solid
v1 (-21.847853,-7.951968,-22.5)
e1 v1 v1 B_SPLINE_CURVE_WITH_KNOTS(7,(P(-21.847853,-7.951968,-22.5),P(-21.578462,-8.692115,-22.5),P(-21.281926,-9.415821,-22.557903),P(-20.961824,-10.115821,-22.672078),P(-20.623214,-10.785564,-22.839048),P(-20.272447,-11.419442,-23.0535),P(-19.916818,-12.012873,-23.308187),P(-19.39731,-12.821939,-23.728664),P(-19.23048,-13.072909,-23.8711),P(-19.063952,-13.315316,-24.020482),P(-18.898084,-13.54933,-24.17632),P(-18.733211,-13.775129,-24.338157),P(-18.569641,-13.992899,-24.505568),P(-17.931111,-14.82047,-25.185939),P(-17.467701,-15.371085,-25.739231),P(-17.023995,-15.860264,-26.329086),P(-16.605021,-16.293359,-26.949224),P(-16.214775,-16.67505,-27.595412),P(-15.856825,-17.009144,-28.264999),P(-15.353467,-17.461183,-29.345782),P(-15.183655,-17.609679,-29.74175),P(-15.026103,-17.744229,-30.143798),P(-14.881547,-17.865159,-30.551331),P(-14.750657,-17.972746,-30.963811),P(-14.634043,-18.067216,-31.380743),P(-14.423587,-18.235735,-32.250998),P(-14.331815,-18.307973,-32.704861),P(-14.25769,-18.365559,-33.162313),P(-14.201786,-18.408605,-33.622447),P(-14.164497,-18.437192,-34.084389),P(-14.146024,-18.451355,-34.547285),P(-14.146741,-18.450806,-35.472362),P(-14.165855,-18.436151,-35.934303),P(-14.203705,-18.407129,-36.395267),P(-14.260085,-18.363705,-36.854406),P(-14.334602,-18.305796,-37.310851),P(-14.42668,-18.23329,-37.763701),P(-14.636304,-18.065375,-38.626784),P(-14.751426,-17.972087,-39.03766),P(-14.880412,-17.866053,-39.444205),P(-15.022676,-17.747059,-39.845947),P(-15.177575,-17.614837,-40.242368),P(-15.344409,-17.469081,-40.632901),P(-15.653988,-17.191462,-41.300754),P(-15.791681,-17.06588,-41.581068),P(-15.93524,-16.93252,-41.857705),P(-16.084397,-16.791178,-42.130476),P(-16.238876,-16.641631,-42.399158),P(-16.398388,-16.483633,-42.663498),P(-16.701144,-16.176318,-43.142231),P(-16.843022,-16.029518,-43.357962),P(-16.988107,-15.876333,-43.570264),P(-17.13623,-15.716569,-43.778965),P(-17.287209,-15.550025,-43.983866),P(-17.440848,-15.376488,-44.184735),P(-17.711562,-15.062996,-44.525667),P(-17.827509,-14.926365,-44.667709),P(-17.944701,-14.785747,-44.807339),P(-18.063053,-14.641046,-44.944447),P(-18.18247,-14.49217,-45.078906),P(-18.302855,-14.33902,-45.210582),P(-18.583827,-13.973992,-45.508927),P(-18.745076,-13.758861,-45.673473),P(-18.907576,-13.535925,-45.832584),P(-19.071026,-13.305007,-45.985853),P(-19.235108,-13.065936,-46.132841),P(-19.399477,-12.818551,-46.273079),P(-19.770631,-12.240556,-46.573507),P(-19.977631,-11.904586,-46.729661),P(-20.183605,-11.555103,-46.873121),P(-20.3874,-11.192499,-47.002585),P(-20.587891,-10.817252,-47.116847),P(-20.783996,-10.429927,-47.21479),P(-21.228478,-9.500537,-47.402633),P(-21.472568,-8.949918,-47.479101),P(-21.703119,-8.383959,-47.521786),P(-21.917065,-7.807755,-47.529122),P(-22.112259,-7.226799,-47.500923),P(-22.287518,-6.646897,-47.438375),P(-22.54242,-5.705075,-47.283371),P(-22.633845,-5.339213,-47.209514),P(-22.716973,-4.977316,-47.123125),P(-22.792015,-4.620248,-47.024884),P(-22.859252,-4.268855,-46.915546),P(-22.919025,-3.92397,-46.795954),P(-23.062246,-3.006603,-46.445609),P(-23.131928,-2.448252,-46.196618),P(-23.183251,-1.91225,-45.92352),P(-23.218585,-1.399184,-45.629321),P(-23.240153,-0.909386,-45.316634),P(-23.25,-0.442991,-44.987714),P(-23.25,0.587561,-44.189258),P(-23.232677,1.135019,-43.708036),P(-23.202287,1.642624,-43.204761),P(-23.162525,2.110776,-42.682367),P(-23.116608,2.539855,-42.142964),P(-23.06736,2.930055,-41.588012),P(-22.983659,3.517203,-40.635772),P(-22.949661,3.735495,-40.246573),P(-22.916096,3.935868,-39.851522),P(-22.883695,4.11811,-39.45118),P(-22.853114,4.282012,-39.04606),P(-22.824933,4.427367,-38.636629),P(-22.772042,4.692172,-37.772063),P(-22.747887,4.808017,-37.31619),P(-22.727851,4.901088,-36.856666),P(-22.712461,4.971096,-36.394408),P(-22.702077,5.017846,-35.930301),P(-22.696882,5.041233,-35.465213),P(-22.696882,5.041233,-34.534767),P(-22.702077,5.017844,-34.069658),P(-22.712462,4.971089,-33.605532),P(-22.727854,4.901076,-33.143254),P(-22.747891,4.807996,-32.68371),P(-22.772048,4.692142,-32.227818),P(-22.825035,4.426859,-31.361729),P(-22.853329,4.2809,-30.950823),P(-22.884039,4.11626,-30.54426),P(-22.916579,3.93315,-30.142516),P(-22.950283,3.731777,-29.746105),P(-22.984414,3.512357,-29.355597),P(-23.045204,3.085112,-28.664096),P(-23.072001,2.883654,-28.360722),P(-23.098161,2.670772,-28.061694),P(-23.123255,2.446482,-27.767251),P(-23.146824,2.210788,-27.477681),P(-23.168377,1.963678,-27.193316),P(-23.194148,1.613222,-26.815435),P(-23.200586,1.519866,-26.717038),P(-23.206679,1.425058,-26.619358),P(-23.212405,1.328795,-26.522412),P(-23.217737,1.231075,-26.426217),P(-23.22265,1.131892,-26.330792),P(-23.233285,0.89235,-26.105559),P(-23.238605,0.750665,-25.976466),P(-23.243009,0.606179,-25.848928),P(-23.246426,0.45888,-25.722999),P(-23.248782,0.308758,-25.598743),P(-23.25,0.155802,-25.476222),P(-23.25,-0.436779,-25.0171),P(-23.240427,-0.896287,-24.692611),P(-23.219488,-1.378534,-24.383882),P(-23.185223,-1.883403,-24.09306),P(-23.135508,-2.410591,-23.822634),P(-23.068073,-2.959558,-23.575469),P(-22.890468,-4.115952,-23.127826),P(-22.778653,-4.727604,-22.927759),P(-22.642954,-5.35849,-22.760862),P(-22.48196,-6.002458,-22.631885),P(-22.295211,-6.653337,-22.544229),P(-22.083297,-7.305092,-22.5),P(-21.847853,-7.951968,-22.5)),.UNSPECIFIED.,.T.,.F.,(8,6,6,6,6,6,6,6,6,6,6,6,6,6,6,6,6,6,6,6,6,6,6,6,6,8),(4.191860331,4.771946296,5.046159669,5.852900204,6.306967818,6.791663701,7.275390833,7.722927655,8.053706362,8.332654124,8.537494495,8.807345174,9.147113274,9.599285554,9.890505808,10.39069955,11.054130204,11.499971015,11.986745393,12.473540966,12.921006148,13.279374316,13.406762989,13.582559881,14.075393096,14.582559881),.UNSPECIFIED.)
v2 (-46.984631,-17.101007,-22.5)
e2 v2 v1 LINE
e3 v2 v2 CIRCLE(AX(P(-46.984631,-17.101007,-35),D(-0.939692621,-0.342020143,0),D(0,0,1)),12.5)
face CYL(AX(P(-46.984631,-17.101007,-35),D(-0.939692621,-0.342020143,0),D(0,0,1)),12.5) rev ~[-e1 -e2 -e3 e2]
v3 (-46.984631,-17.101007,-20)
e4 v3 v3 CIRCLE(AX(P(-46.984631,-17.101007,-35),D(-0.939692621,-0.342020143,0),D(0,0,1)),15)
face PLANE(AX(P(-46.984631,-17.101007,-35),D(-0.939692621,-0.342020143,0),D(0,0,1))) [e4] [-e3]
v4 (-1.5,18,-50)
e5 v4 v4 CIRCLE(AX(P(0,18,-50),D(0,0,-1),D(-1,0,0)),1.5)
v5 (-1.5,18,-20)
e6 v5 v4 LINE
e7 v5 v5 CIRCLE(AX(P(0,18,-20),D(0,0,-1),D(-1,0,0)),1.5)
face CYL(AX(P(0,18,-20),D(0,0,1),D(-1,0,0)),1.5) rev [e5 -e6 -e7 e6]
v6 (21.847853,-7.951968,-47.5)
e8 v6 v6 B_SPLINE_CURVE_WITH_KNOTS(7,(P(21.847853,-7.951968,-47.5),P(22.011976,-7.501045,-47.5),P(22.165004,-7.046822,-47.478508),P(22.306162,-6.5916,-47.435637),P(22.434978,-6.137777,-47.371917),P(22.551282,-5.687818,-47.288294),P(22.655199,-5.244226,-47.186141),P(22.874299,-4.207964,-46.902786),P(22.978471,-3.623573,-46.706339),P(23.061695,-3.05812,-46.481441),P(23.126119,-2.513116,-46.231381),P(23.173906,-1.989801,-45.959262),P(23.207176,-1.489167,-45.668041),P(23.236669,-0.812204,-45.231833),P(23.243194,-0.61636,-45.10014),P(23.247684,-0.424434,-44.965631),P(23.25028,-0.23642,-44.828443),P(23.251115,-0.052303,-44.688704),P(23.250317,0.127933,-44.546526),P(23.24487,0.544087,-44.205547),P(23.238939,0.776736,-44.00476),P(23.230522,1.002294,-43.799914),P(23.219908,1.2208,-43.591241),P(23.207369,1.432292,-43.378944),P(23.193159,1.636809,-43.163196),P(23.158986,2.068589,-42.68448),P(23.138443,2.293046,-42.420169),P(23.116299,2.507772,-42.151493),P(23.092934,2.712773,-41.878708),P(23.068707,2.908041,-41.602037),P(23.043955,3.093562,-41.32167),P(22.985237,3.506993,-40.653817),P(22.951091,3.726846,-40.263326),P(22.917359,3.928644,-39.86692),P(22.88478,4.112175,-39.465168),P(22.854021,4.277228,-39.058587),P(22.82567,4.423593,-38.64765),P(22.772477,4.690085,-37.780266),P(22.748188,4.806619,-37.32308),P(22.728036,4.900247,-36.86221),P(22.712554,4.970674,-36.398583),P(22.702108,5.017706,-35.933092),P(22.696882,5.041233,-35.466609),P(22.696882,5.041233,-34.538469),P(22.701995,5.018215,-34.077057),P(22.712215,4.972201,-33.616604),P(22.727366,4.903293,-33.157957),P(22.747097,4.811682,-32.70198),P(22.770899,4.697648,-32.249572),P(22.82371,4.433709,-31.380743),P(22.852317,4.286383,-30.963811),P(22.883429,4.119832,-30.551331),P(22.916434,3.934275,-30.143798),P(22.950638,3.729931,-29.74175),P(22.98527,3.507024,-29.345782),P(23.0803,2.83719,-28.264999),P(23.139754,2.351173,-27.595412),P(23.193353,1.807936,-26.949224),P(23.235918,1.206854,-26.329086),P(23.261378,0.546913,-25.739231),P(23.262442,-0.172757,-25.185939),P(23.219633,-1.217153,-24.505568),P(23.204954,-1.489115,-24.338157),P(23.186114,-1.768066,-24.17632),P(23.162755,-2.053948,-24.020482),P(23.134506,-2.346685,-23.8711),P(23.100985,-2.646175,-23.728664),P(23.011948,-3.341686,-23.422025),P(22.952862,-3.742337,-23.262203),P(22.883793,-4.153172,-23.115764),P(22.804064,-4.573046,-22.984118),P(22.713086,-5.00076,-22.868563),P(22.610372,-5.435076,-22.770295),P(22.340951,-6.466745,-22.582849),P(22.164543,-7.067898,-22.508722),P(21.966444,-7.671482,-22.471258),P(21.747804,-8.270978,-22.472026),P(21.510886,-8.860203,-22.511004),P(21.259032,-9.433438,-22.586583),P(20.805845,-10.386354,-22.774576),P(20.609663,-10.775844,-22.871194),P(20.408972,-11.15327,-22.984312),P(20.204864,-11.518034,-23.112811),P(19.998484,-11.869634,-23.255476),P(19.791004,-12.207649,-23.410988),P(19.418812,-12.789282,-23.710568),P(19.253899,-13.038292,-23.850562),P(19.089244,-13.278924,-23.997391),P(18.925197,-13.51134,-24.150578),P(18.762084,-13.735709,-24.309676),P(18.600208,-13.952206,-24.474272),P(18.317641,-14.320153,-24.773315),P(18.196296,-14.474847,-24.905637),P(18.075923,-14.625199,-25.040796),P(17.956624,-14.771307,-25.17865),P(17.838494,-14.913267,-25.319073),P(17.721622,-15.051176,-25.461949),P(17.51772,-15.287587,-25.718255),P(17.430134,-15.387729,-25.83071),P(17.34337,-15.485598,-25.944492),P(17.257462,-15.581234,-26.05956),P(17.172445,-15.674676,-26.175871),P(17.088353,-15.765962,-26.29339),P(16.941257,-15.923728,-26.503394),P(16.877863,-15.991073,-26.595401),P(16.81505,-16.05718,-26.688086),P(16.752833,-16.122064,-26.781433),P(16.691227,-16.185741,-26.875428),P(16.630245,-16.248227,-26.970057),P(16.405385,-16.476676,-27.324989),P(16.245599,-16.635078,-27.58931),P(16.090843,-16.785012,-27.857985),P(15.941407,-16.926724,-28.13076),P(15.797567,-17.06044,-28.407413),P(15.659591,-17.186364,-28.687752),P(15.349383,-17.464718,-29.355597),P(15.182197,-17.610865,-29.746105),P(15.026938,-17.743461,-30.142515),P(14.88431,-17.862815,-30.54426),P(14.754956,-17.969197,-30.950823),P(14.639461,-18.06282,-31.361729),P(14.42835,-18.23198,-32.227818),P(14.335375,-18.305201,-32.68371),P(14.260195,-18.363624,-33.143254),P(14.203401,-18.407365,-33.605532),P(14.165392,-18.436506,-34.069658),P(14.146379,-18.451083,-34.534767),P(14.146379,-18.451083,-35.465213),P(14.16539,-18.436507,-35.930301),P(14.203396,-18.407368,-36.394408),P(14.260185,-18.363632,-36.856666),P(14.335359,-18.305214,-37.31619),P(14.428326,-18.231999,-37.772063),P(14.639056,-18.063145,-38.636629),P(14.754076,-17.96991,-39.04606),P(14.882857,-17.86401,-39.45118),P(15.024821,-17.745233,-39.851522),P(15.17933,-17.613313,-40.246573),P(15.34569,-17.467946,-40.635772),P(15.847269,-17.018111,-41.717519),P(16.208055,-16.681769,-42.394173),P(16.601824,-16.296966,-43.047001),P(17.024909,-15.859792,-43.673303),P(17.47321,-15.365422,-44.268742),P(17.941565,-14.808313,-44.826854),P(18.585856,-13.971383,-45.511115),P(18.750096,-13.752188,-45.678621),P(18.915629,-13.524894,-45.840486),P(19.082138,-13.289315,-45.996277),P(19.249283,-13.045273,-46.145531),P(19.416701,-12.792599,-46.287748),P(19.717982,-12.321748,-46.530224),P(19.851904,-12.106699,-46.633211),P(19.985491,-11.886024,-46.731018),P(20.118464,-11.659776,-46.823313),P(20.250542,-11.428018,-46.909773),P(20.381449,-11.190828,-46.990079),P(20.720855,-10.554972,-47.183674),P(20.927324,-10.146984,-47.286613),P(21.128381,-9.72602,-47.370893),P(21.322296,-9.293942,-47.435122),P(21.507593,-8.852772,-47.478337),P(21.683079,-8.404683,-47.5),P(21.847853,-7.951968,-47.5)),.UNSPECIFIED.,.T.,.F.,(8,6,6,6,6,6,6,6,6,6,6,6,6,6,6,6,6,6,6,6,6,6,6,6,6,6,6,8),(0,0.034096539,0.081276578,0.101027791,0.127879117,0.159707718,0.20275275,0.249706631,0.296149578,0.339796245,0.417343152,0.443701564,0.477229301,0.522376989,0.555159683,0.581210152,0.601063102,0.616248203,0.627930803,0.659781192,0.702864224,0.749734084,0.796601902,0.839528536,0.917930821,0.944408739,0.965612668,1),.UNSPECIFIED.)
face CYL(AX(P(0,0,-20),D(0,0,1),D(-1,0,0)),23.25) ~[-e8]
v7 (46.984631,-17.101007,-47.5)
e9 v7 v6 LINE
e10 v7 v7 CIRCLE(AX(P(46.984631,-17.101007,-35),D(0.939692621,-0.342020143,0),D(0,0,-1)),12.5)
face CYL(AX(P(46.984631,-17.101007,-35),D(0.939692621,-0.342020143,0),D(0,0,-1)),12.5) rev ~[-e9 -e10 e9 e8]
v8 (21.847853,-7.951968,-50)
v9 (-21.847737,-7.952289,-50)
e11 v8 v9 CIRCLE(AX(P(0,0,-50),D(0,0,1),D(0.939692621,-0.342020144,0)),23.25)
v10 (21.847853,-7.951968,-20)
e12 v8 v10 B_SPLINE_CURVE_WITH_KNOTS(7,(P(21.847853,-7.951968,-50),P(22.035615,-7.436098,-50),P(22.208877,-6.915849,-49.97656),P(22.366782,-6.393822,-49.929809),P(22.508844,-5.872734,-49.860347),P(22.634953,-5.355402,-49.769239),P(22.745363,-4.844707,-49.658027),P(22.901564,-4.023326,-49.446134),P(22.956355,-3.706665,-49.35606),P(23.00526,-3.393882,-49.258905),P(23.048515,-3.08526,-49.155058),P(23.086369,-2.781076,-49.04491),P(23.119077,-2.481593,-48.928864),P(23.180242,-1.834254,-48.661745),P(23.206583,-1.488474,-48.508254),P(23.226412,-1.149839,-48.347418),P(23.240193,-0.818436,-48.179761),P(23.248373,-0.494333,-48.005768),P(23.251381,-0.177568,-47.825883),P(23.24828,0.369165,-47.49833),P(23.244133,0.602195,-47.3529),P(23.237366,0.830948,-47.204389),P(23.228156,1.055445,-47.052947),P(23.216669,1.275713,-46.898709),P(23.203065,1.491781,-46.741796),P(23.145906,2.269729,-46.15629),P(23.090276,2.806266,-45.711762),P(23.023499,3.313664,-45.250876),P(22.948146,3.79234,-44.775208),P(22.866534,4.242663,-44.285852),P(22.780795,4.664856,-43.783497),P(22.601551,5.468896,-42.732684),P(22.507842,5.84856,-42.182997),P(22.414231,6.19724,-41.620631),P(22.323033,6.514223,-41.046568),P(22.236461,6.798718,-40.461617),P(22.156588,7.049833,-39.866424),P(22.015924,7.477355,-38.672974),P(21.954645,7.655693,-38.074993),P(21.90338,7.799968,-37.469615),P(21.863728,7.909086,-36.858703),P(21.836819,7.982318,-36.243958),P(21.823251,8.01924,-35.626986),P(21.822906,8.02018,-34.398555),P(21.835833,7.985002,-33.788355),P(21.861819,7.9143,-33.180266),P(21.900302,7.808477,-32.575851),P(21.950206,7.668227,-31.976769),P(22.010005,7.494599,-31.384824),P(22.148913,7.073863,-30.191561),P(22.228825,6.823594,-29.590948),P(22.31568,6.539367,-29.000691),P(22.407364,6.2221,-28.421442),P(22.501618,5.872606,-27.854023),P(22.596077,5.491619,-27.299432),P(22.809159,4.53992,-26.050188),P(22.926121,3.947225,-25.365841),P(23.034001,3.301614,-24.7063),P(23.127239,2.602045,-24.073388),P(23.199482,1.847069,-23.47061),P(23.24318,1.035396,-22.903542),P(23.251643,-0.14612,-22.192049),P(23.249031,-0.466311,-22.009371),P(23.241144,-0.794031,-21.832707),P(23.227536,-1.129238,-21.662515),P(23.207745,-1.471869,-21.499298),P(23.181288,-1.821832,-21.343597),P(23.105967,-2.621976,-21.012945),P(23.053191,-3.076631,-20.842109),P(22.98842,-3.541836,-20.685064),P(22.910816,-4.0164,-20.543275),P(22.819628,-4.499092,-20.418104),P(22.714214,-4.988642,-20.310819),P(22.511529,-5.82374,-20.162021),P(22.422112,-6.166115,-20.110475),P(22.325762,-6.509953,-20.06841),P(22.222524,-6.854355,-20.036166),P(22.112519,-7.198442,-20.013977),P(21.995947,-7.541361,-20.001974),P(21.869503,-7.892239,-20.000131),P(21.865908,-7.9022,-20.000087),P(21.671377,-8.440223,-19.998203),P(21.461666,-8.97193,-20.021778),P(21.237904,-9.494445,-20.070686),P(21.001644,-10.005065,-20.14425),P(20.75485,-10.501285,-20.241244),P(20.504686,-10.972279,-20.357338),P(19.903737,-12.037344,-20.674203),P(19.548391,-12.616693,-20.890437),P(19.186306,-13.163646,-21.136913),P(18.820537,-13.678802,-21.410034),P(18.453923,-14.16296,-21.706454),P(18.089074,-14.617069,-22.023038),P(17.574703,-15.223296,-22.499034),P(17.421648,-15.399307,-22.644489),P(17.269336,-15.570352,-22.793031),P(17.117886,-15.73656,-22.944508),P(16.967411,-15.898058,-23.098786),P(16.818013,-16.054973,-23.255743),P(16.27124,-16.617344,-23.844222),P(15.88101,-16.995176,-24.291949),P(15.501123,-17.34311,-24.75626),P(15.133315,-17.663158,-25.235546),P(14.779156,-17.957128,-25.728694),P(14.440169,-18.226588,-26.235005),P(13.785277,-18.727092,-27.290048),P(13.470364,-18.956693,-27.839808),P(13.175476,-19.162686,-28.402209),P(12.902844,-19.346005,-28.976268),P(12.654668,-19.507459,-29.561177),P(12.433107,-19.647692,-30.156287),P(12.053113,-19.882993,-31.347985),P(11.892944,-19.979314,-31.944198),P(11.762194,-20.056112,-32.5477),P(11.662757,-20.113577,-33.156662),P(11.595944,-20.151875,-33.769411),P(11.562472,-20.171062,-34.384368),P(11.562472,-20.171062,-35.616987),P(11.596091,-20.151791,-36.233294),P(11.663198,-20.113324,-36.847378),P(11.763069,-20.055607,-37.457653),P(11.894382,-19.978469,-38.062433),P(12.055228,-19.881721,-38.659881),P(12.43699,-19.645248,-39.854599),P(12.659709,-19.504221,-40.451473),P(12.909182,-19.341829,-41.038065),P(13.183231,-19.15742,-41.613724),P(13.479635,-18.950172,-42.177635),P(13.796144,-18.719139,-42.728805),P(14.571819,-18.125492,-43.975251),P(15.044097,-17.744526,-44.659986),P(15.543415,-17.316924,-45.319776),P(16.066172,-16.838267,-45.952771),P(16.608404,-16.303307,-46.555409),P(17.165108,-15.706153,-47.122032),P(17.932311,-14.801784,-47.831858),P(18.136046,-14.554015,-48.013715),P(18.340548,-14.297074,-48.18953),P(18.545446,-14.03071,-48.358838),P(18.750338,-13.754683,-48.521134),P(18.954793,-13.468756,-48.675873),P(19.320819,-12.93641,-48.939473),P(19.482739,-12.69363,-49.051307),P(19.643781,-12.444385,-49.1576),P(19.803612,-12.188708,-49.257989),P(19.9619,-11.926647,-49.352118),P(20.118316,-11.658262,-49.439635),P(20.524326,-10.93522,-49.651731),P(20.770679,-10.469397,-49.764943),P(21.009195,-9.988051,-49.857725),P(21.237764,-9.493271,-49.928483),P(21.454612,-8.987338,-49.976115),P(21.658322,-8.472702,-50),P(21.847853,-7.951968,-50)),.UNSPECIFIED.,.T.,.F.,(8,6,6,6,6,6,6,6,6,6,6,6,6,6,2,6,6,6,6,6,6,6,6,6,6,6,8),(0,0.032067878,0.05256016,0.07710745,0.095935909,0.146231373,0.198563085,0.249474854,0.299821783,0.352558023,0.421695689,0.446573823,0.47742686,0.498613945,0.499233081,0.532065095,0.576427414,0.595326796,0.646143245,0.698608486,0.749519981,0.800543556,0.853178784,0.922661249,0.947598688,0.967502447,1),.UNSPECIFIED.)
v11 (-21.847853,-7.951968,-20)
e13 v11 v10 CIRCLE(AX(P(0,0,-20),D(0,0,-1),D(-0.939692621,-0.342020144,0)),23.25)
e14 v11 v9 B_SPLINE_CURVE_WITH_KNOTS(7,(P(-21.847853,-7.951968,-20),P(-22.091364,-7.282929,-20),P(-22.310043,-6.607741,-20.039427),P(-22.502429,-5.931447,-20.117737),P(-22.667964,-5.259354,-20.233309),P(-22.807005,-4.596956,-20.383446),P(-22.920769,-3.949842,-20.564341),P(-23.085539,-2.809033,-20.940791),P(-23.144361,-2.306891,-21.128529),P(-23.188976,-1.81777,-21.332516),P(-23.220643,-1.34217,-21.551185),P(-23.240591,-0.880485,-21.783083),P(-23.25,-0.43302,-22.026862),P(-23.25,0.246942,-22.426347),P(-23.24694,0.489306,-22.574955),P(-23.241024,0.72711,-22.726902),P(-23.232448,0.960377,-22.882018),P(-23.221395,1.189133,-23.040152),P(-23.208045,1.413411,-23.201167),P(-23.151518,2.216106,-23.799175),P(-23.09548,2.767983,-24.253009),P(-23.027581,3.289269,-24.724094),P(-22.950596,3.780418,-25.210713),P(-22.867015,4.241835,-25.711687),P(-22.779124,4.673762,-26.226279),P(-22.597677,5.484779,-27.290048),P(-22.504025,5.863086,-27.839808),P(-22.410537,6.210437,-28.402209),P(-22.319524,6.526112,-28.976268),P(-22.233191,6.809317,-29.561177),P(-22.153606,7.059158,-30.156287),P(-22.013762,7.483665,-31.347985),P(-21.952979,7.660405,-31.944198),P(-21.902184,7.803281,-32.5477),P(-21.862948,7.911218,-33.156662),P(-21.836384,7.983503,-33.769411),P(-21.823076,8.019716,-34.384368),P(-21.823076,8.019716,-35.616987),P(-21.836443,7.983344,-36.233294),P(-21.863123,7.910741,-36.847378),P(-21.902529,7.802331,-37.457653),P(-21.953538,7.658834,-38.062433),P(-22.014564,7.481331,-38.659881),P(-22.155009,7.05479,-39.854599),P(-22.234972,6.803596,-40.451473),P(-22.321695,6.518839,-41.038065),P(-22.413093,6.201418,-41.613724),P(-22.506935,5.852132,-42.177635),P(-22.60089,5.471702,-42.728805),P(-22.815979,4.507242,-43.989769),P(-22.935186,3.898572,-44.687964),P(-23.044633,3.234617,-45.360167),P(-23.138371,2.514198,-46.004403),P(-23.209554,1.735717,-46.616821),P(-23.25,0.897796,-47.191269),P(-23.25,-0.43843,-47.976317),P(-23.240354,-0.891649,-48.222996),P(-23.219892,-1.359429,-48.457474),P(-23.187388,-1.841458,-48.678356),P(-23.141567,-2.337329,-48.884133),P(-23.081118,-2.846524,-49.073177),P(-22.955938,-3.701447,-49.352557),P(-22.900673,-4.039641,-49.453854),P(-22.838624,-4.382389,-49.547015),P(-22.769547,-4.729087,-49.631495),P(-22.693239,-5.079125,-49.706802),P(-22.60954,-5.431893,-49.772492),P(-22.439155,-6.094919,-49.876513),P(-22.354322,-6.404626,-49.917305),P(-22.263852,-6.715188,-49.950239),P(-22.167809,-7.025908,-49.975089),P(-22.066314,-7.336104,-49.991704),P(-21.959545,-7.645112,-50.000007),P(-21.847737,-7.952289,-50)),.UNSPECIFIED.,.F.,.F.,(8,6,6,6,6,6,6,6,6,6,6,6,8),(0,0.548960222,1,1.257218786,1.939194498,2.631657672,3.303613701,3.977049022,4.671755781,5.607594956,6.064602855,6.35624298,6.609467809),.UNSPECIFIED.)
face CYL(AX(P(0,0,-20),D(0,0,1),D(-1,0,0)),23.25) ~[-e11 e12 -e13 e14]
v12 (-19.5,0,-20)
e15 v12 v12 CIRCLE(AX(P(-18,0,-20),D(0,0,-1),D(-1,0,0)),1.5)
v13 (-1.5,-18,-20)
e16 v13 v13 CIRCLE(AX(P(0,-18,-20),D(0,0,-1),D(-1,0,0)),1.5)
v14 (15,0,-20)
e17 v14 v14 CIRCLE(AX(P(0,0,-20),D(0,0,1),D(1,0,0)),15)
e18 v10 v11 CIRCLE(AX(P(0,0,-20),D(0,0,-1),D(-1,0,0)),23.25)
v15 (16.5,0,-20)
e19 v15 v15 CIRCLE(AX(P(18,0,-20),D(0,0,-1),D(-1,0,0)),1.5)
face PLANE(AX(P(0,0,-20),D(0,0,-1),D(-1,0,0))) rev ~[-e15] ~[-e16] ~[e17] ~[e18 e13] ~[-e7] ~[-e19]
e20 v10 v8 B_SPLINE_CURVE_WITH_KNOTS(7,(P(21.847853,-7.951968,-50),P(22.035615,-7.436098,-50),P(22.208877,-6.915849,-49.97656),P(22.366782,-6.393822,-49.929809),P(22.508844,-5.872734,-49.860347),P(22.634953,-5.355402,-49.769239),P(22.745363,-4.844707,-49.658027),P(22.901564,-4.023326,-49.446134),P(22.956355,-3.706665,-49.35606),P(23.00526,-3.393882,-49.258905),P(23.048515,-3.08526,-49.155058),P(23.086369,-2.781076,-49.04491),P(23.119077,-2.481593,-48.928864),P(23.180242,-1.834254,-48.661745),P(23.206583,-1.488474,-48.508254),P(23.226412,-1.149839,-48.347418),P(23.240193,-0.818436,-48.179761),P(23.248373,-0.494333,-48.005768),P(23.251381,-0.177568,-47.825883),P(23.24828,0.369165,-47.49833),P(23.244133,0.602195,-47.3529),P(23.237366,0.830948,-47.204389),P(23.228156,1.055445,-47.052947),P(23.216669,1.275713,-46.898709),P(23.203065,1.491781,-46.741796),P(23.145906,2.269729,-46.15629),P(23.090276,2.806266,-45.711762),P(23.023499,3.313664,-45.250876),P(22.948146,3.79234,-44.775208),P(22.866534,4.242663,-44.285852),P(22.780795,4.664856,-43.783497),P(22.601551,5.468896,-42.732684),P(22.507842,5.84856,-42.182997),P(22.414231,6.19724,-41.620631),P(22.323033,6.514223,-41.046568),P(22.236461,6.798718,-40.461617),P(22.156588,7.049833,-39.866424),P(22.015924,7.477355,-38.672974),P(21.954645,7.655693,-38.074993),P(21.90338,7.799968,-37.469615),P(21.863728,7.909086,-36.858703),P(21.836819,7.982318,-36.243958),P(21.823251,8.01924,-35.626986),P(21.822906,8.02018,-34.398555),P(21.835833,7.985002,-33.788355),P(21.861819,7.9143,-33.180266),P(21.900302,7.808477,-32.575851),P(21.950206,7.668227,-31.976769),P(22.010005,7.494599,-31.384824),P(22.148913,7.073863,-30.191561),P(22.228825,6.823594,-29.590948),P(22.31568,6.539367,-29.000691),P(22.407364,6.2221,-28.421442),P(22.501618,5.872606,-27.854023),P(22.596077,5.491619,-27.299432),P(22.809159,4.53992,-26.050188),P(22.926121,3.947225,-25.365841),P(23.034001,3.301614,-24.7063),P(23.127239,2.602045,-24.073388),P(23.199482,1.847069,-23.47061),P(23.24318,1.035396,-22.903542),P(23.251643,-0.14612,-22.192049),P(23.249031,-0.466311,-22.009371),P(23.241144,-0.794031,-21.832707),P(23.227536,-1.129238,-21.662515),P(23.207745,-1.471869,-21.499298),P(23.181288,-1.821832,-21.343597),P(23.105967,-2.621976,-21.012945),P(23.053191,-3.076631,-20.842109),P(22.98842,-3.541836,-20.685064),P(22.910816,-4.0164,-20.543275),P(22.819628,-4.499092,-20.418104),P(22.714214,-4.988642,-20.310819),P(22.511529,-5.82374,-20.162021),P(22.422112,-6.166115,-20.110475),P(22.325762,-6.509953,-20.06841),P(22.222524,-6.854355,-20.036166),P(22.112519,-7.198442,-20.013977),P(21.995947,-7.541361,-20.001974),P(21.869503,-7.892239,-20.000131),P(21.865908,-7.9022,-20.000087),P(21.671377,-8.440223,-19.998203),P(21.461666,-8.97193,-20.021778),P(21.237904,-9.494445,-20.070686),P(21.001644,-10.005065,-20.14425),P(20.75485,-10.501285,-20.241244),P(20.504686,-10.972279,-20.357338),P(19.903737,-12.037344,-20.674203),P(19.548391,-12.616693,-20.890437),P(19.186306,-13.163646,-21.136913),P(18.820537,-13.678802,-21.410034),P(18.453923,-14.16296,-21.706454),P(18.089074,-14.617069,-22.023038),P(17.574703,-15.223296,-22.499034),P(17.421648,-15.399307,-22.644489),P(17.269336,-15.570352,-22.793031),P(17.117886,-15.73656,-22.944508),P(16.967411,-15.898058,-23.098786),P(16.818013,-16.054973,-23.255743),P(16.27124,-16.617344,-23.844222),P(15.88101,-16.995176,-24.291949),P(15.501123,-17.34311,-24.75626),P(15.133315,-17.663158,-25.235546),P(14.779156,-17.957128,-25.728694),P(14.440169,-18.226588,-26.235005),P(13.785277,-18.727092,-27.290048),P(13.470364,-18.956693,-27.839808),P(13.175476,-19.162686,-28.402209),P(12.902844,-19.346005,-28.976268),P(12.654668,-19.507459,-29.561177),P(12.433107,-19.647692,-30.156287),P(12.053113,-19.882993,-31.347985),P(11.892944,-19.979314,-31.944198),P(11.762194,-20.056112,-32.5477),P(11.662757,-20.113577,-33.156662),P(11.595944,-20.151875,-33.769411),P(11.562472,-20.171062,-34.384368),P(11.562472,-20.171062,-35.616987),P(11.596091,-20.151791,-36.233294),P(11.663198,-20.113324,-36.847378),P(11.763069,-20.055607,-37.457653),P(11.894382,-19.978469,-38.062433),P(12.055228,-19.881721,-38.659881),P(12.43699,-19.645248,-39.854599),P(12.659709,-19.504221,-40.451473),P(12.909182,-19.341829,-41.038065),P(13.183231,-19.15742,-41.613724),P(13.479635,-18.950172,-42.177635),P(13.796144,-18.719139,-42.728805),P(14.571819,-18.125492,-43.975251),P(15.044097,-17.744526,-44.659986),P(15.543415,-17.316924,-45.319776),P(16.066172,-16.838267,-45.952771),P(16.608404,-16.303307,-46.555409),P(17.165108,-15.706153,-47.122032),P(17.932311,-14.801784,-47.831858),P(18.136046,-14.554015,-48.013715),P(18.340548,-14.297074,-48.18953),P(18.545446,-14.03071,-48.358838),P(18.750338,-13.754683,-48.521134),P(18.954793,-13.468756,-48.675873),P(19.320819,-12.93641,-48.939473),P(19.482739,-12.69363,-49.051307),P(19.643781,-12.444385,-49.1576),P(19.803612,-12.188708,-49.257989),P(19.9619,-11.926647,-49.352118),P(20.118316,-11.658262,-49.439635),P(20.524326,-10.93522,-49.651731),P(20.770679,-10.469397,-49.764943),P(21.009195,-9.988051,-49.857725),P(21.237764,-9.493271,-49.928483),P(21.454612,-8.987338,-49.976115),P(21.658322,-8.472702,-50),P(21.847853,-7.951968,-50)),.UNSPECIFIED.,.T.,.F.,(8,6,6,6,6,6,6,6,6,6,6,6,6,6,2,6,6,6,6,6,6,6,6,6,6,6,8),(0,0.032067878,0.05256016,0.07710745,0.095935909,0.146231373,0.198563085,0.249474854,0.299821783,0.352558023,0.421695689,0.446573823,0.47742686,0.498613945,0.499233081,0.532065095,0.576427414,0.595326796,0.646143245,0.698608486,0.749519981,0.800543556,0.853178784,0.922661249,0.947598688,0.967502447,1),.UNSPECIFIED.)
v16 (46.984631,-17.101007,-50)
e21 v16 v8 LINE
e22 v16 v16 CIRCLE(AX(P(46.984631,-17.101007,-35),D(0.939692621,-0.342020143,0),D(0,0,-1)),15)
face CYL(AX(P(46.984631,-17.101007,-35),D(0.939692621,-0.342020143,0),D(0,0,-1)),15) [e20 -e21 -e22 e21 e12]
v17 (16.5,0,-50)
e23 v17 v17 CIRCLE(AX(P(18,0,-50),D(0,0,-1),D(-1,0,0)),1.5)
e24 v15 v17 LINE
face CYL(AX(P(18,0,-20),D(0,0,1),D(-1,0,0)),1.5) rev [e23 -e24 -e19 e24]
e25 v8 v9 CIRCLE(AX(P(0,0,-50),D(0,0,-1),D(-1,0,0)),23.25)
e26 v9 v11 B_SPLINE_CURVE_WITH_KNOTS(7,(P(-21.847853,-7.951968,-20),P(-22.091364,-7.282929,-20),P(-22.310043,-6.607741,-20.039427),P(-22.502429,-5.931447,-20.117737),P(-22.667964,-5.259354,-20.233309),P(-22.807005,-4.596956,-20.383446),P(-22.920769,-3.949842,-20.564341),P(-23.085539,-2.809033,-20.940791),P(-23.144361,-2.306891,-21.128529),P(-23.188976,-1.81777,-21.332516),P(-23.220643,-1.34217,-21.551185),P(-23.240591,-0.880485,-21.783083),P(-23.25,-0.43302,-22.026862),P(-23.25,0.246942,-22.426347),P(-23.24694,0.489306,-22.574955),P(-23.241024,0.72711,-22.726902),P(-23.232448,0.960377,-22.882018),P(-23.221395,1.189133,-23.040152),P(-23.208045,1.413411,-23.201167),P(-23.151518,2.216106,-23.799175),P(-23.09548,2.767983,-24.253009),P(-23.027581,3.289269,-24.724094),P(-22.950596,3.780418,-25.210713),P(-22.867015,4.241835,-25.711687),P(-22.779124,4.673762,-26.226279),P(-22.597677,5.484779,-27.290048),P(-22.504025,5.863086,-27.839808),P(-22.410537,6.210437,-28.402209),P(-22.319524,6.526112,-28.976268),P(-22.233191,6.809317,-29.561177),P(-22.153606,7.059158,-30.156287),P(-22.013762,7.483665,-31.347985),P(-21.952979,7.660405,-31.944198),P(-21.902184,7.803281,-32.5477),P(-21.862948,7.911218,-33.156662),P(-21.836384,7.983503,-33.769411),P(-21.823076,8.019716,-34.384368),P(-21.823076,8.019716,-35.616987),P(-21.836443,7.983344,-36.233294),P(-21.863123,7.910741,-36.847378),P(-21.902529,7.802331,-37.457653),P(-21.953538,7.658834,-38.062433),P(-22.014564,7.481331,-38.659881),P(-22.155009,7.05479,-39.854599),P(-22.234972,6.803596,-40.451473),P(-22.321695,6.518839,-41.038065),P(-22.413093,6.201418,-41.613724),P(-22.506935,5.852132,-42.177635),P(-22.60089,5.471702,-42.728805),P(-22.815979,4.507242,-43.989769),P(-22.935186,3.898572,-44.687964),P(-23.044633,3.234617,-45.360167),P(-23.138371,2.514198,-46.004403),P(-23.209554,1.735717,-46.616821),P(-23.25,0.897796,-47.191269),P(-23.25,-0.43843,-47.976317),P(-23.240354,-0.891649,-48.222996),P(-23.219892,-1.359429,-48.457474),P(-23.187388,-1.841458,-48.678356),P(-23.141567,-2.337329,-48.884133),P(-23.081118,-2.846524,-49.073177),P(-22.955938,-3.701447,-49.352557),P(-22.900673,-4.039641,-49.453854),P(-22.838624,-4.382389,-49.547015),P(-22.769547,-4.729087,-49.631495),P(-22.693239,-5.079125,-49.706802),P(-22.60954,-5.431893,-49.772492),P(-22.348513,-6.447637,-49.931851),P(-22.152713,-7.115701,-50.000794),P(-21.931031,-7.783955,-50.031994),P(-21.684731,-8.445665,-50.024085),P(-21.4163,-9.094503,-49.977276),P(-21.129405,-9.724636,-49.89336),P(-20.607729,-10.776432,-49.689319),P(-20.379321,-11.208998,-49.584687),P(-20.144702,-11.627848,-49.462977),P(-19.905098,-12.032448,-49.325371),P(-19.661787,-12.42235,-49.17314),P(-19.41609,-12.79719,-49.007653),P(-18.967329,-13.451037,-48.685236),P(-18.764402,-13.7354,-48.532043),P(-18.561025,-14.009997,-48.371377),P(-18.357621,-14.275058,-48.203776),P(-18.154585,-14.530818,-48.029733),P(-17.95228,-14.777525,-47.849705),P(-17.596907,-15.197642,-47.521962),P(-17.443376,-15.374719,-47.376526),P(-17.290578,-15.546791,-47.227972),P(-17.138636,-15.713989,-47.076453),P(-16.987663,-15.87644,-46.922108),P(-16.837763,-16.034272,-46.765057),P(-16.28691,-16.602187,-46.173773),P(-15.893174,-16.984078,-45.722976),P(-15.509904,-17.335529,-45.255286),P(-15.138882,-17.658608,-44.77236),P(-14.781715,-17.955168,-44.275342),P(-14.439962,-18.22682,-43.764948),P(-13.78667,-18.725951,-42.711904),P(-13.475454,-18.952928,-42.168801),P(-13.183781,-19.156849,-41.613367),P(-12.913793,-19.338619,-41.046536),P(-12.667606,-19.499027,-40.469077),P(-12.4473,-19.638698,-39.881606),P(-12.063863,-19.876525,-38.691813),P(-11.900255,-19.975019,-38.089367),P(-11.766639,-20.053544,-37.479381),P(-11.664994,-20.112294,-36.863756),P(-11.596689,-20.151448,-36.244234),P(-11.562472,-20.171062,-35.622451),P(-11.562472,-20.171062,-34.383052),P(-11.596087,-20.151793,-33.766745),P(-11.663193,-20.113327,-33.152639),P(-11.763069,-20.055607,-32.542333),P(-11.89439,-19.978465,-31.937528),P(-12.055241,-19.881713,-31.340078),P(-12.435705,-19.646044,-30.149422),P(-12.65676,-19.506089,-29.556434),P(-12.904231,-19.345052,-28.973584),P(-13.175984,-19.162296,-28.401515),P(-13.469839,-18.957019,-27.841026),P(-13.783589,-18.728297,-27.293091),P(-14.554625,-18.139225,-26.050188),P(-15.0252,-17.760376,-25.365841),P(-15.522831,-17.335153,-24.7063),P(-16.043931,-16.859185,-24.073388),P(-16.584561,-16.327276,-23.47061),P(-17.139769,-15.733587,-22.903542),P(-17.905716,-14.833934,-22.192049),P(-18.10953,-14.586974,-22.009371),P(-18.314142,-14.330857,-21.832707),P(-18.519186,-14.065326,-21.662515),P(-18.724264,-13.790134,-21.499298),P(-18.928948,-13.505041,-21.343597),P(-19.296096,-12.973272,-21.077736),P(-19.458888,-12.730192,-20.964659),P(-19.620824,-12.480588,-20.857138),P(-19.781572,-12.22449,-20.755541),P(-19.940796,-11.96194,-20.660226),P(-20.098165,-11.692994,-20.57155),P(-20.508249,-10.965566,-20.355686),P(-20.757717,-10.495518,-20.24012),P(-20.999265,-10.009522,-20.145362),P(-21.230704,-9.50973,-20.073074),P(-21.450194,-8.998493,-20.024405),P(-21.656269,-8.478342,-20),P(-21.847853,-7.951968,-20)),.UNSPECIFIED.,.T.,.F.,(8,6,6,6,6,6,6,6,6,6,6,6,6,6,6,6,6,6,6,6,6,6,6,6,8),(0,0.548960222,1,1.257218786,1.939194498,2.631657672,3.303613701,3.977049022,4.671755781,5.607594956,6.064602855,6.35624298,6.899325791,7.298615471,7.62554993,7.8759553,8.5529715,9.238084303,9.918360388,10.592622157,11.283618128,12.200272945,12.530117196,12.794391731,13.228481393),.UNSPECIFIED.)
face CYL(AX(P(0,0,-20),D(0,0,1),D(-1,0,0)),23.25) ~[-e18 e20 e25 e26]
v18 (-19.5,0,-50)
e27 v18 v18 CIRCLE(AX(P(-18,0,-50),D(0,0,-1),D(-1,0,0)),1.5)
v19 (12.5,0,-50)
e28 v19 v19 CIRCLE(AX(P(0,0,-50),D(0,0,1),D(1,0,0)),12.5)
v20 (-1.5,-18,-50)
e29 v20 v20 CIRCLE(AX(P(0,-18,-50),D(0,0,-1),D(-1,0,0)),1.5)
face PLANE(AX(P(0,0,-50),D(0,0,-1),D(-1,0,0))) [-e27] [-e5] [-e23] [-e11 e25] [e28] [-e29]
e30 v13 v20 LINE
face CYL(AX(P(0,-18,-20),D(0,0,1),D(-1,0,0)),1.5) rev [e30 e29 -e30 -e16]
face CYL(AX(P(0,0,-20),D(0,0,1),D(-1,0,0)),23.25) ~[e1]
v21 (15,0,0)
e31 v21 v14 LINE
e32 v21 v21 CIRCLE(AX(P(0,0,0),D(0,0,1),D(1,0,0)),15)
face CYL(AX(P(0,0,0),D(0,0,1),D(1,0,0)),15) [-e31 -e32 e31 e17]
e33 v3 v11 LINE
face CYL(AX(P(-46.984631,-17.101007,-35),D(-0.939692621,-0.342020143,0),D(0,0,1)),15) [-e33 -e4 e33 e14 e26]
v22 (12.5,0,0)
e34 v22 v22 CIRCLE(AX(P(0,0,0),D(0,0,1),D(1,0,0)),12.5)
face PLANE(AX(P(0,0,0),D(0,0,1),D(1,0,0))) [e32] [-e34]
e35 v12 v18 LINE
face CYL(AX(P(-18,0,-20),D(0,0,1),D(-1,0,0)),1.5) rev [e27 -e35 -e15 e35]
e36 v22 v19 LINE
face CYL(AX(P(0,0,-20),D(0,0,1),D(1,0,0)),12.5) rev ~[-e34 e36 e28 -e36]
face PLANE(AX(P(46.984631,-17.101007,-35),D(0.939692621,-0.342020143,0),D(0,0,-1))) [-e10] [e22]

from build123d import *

# Parameters (mm, degrees)
CROQUIS1_R              = 15
CROQUIS1_R_2            = 12.5
SALIENTE_EXTRUIR1_DEPTH = 20
CROQUIS8_R              = 23.25
CROQUIS8_R_2            = 1.5
SALIENTE_EXTRUIR2_DEPTH = 30
SALIENTE_EXTRUIR4_REACH = 81.8
CROQUIS6_R              = 15
CROQUIS6_R_2            = 12.5
SALIENTE_EXTRUIR5_REACH = 108.924
CROQUIS7_R              = 15
CROQUIS7_R_2            = 12.5
CROQUIS9_R              = 12.5
CORTAR_EXTRUIR1_DEPTH   = 31.000000103


with BuildPart() as part:
    # Croquis1 → Saliente-Extruir1 (new body)
    with BuildSketch(Plane.XY):
        Circle(CROQUIS1_R)
        Circle(CROQUIS1_R_2, mode=Mode.SUBTRACT)
    extrude(amount=-SALIENTE_EXTRUIR1_DEPTH)

    # Croquis8 → Saliente-Extruir2 (add)
    with BuildSketch(Plane(origin=(0, 0, -20), x_dir=(-1, 0, 0), z_dir=(0, 0, -1))):
        Circle(CROQUIS8_R)
        with Locations((0, 18)):
            Circle(CROQUIS8_R_2, mode=Mode.SUBTRACT)
        with Locations((18, 0)):
            Circle(CROQUIS8_R_2, mode=Mode.SUBTRACT)
        with Locations((0, -18)):
            Circle(CROQUIS8_R_2, mode=Mode.SUBTRACT)
        with Locations((-18, 0)):
            Circle(CROQUIS8_R_2, mode=Mode.SUBTRACT)
    extrude(amount=SALIENTE_EXTRUIR2_DEPTH)

    # Croquis6 → Saliente-Extruir4 (add, up to next)
    with BuildSketch(Plane(origin=(46.984631039, -17.101007166, -35), x_dir=(0, 0, -1), z_dir=(0.939692621, -0.342020143, 0)), mode=Mode.PRIVATE) as saliente_extruir4_sk1:
        Circle(CROQUIS6_R)
        Circle(CROQUIS6_R_2, mode=Mode.SUBTRACT)
    saliente_extruir4_tool1 = extrude(saliente_extruir4_sk1.sketch, amount=-SALIENTE_EXTRUIR4_REACH, mode=Mode.PRIVATE) - part.part
    add(saliente_extruir4_tool1.solids().sort_by_distance((46.984631, -17.101007, -20.424264))[0])

    # Croquis7 → Saliente-Extruir5 (add, up to next)
    with BuildSketch(Plane(origin=(-46.984631039, -17.101007166, -35), x_dir=(0, 0, 1), z_dir=(-0.939692621, -0.342020143, 0)), mode=Mode.PRIVATE) as saliente_extruir5_sk1:
        Circle(CROQUIS7_R)
        Circle(CROQUIS7_R_2, mode=Mode.SUBTRACT)
    saliente_extruir5_tool1 = extrude(saliente_extruir5_sk1.sketch, amount=-SALIENTE_EXTRUIR5_REACH, mode=Mode.PRIVATE) - part.part
    add(saliente_extruir5_tool1.solids().sort_by_distance((-46.984631, -17.101007, -49.575736))[0])

    # Croquis9 → Cortar-Extruir1 (cut, through all)
    with BuildSketch(Plane.XY.offset(-20)):
        Circle(CROQUIS9_R)
    extrude(amount=-CORTAR_EXTRUIR1_DEPTH, mode=Mode.SUBTRACT)


solid = part.part
